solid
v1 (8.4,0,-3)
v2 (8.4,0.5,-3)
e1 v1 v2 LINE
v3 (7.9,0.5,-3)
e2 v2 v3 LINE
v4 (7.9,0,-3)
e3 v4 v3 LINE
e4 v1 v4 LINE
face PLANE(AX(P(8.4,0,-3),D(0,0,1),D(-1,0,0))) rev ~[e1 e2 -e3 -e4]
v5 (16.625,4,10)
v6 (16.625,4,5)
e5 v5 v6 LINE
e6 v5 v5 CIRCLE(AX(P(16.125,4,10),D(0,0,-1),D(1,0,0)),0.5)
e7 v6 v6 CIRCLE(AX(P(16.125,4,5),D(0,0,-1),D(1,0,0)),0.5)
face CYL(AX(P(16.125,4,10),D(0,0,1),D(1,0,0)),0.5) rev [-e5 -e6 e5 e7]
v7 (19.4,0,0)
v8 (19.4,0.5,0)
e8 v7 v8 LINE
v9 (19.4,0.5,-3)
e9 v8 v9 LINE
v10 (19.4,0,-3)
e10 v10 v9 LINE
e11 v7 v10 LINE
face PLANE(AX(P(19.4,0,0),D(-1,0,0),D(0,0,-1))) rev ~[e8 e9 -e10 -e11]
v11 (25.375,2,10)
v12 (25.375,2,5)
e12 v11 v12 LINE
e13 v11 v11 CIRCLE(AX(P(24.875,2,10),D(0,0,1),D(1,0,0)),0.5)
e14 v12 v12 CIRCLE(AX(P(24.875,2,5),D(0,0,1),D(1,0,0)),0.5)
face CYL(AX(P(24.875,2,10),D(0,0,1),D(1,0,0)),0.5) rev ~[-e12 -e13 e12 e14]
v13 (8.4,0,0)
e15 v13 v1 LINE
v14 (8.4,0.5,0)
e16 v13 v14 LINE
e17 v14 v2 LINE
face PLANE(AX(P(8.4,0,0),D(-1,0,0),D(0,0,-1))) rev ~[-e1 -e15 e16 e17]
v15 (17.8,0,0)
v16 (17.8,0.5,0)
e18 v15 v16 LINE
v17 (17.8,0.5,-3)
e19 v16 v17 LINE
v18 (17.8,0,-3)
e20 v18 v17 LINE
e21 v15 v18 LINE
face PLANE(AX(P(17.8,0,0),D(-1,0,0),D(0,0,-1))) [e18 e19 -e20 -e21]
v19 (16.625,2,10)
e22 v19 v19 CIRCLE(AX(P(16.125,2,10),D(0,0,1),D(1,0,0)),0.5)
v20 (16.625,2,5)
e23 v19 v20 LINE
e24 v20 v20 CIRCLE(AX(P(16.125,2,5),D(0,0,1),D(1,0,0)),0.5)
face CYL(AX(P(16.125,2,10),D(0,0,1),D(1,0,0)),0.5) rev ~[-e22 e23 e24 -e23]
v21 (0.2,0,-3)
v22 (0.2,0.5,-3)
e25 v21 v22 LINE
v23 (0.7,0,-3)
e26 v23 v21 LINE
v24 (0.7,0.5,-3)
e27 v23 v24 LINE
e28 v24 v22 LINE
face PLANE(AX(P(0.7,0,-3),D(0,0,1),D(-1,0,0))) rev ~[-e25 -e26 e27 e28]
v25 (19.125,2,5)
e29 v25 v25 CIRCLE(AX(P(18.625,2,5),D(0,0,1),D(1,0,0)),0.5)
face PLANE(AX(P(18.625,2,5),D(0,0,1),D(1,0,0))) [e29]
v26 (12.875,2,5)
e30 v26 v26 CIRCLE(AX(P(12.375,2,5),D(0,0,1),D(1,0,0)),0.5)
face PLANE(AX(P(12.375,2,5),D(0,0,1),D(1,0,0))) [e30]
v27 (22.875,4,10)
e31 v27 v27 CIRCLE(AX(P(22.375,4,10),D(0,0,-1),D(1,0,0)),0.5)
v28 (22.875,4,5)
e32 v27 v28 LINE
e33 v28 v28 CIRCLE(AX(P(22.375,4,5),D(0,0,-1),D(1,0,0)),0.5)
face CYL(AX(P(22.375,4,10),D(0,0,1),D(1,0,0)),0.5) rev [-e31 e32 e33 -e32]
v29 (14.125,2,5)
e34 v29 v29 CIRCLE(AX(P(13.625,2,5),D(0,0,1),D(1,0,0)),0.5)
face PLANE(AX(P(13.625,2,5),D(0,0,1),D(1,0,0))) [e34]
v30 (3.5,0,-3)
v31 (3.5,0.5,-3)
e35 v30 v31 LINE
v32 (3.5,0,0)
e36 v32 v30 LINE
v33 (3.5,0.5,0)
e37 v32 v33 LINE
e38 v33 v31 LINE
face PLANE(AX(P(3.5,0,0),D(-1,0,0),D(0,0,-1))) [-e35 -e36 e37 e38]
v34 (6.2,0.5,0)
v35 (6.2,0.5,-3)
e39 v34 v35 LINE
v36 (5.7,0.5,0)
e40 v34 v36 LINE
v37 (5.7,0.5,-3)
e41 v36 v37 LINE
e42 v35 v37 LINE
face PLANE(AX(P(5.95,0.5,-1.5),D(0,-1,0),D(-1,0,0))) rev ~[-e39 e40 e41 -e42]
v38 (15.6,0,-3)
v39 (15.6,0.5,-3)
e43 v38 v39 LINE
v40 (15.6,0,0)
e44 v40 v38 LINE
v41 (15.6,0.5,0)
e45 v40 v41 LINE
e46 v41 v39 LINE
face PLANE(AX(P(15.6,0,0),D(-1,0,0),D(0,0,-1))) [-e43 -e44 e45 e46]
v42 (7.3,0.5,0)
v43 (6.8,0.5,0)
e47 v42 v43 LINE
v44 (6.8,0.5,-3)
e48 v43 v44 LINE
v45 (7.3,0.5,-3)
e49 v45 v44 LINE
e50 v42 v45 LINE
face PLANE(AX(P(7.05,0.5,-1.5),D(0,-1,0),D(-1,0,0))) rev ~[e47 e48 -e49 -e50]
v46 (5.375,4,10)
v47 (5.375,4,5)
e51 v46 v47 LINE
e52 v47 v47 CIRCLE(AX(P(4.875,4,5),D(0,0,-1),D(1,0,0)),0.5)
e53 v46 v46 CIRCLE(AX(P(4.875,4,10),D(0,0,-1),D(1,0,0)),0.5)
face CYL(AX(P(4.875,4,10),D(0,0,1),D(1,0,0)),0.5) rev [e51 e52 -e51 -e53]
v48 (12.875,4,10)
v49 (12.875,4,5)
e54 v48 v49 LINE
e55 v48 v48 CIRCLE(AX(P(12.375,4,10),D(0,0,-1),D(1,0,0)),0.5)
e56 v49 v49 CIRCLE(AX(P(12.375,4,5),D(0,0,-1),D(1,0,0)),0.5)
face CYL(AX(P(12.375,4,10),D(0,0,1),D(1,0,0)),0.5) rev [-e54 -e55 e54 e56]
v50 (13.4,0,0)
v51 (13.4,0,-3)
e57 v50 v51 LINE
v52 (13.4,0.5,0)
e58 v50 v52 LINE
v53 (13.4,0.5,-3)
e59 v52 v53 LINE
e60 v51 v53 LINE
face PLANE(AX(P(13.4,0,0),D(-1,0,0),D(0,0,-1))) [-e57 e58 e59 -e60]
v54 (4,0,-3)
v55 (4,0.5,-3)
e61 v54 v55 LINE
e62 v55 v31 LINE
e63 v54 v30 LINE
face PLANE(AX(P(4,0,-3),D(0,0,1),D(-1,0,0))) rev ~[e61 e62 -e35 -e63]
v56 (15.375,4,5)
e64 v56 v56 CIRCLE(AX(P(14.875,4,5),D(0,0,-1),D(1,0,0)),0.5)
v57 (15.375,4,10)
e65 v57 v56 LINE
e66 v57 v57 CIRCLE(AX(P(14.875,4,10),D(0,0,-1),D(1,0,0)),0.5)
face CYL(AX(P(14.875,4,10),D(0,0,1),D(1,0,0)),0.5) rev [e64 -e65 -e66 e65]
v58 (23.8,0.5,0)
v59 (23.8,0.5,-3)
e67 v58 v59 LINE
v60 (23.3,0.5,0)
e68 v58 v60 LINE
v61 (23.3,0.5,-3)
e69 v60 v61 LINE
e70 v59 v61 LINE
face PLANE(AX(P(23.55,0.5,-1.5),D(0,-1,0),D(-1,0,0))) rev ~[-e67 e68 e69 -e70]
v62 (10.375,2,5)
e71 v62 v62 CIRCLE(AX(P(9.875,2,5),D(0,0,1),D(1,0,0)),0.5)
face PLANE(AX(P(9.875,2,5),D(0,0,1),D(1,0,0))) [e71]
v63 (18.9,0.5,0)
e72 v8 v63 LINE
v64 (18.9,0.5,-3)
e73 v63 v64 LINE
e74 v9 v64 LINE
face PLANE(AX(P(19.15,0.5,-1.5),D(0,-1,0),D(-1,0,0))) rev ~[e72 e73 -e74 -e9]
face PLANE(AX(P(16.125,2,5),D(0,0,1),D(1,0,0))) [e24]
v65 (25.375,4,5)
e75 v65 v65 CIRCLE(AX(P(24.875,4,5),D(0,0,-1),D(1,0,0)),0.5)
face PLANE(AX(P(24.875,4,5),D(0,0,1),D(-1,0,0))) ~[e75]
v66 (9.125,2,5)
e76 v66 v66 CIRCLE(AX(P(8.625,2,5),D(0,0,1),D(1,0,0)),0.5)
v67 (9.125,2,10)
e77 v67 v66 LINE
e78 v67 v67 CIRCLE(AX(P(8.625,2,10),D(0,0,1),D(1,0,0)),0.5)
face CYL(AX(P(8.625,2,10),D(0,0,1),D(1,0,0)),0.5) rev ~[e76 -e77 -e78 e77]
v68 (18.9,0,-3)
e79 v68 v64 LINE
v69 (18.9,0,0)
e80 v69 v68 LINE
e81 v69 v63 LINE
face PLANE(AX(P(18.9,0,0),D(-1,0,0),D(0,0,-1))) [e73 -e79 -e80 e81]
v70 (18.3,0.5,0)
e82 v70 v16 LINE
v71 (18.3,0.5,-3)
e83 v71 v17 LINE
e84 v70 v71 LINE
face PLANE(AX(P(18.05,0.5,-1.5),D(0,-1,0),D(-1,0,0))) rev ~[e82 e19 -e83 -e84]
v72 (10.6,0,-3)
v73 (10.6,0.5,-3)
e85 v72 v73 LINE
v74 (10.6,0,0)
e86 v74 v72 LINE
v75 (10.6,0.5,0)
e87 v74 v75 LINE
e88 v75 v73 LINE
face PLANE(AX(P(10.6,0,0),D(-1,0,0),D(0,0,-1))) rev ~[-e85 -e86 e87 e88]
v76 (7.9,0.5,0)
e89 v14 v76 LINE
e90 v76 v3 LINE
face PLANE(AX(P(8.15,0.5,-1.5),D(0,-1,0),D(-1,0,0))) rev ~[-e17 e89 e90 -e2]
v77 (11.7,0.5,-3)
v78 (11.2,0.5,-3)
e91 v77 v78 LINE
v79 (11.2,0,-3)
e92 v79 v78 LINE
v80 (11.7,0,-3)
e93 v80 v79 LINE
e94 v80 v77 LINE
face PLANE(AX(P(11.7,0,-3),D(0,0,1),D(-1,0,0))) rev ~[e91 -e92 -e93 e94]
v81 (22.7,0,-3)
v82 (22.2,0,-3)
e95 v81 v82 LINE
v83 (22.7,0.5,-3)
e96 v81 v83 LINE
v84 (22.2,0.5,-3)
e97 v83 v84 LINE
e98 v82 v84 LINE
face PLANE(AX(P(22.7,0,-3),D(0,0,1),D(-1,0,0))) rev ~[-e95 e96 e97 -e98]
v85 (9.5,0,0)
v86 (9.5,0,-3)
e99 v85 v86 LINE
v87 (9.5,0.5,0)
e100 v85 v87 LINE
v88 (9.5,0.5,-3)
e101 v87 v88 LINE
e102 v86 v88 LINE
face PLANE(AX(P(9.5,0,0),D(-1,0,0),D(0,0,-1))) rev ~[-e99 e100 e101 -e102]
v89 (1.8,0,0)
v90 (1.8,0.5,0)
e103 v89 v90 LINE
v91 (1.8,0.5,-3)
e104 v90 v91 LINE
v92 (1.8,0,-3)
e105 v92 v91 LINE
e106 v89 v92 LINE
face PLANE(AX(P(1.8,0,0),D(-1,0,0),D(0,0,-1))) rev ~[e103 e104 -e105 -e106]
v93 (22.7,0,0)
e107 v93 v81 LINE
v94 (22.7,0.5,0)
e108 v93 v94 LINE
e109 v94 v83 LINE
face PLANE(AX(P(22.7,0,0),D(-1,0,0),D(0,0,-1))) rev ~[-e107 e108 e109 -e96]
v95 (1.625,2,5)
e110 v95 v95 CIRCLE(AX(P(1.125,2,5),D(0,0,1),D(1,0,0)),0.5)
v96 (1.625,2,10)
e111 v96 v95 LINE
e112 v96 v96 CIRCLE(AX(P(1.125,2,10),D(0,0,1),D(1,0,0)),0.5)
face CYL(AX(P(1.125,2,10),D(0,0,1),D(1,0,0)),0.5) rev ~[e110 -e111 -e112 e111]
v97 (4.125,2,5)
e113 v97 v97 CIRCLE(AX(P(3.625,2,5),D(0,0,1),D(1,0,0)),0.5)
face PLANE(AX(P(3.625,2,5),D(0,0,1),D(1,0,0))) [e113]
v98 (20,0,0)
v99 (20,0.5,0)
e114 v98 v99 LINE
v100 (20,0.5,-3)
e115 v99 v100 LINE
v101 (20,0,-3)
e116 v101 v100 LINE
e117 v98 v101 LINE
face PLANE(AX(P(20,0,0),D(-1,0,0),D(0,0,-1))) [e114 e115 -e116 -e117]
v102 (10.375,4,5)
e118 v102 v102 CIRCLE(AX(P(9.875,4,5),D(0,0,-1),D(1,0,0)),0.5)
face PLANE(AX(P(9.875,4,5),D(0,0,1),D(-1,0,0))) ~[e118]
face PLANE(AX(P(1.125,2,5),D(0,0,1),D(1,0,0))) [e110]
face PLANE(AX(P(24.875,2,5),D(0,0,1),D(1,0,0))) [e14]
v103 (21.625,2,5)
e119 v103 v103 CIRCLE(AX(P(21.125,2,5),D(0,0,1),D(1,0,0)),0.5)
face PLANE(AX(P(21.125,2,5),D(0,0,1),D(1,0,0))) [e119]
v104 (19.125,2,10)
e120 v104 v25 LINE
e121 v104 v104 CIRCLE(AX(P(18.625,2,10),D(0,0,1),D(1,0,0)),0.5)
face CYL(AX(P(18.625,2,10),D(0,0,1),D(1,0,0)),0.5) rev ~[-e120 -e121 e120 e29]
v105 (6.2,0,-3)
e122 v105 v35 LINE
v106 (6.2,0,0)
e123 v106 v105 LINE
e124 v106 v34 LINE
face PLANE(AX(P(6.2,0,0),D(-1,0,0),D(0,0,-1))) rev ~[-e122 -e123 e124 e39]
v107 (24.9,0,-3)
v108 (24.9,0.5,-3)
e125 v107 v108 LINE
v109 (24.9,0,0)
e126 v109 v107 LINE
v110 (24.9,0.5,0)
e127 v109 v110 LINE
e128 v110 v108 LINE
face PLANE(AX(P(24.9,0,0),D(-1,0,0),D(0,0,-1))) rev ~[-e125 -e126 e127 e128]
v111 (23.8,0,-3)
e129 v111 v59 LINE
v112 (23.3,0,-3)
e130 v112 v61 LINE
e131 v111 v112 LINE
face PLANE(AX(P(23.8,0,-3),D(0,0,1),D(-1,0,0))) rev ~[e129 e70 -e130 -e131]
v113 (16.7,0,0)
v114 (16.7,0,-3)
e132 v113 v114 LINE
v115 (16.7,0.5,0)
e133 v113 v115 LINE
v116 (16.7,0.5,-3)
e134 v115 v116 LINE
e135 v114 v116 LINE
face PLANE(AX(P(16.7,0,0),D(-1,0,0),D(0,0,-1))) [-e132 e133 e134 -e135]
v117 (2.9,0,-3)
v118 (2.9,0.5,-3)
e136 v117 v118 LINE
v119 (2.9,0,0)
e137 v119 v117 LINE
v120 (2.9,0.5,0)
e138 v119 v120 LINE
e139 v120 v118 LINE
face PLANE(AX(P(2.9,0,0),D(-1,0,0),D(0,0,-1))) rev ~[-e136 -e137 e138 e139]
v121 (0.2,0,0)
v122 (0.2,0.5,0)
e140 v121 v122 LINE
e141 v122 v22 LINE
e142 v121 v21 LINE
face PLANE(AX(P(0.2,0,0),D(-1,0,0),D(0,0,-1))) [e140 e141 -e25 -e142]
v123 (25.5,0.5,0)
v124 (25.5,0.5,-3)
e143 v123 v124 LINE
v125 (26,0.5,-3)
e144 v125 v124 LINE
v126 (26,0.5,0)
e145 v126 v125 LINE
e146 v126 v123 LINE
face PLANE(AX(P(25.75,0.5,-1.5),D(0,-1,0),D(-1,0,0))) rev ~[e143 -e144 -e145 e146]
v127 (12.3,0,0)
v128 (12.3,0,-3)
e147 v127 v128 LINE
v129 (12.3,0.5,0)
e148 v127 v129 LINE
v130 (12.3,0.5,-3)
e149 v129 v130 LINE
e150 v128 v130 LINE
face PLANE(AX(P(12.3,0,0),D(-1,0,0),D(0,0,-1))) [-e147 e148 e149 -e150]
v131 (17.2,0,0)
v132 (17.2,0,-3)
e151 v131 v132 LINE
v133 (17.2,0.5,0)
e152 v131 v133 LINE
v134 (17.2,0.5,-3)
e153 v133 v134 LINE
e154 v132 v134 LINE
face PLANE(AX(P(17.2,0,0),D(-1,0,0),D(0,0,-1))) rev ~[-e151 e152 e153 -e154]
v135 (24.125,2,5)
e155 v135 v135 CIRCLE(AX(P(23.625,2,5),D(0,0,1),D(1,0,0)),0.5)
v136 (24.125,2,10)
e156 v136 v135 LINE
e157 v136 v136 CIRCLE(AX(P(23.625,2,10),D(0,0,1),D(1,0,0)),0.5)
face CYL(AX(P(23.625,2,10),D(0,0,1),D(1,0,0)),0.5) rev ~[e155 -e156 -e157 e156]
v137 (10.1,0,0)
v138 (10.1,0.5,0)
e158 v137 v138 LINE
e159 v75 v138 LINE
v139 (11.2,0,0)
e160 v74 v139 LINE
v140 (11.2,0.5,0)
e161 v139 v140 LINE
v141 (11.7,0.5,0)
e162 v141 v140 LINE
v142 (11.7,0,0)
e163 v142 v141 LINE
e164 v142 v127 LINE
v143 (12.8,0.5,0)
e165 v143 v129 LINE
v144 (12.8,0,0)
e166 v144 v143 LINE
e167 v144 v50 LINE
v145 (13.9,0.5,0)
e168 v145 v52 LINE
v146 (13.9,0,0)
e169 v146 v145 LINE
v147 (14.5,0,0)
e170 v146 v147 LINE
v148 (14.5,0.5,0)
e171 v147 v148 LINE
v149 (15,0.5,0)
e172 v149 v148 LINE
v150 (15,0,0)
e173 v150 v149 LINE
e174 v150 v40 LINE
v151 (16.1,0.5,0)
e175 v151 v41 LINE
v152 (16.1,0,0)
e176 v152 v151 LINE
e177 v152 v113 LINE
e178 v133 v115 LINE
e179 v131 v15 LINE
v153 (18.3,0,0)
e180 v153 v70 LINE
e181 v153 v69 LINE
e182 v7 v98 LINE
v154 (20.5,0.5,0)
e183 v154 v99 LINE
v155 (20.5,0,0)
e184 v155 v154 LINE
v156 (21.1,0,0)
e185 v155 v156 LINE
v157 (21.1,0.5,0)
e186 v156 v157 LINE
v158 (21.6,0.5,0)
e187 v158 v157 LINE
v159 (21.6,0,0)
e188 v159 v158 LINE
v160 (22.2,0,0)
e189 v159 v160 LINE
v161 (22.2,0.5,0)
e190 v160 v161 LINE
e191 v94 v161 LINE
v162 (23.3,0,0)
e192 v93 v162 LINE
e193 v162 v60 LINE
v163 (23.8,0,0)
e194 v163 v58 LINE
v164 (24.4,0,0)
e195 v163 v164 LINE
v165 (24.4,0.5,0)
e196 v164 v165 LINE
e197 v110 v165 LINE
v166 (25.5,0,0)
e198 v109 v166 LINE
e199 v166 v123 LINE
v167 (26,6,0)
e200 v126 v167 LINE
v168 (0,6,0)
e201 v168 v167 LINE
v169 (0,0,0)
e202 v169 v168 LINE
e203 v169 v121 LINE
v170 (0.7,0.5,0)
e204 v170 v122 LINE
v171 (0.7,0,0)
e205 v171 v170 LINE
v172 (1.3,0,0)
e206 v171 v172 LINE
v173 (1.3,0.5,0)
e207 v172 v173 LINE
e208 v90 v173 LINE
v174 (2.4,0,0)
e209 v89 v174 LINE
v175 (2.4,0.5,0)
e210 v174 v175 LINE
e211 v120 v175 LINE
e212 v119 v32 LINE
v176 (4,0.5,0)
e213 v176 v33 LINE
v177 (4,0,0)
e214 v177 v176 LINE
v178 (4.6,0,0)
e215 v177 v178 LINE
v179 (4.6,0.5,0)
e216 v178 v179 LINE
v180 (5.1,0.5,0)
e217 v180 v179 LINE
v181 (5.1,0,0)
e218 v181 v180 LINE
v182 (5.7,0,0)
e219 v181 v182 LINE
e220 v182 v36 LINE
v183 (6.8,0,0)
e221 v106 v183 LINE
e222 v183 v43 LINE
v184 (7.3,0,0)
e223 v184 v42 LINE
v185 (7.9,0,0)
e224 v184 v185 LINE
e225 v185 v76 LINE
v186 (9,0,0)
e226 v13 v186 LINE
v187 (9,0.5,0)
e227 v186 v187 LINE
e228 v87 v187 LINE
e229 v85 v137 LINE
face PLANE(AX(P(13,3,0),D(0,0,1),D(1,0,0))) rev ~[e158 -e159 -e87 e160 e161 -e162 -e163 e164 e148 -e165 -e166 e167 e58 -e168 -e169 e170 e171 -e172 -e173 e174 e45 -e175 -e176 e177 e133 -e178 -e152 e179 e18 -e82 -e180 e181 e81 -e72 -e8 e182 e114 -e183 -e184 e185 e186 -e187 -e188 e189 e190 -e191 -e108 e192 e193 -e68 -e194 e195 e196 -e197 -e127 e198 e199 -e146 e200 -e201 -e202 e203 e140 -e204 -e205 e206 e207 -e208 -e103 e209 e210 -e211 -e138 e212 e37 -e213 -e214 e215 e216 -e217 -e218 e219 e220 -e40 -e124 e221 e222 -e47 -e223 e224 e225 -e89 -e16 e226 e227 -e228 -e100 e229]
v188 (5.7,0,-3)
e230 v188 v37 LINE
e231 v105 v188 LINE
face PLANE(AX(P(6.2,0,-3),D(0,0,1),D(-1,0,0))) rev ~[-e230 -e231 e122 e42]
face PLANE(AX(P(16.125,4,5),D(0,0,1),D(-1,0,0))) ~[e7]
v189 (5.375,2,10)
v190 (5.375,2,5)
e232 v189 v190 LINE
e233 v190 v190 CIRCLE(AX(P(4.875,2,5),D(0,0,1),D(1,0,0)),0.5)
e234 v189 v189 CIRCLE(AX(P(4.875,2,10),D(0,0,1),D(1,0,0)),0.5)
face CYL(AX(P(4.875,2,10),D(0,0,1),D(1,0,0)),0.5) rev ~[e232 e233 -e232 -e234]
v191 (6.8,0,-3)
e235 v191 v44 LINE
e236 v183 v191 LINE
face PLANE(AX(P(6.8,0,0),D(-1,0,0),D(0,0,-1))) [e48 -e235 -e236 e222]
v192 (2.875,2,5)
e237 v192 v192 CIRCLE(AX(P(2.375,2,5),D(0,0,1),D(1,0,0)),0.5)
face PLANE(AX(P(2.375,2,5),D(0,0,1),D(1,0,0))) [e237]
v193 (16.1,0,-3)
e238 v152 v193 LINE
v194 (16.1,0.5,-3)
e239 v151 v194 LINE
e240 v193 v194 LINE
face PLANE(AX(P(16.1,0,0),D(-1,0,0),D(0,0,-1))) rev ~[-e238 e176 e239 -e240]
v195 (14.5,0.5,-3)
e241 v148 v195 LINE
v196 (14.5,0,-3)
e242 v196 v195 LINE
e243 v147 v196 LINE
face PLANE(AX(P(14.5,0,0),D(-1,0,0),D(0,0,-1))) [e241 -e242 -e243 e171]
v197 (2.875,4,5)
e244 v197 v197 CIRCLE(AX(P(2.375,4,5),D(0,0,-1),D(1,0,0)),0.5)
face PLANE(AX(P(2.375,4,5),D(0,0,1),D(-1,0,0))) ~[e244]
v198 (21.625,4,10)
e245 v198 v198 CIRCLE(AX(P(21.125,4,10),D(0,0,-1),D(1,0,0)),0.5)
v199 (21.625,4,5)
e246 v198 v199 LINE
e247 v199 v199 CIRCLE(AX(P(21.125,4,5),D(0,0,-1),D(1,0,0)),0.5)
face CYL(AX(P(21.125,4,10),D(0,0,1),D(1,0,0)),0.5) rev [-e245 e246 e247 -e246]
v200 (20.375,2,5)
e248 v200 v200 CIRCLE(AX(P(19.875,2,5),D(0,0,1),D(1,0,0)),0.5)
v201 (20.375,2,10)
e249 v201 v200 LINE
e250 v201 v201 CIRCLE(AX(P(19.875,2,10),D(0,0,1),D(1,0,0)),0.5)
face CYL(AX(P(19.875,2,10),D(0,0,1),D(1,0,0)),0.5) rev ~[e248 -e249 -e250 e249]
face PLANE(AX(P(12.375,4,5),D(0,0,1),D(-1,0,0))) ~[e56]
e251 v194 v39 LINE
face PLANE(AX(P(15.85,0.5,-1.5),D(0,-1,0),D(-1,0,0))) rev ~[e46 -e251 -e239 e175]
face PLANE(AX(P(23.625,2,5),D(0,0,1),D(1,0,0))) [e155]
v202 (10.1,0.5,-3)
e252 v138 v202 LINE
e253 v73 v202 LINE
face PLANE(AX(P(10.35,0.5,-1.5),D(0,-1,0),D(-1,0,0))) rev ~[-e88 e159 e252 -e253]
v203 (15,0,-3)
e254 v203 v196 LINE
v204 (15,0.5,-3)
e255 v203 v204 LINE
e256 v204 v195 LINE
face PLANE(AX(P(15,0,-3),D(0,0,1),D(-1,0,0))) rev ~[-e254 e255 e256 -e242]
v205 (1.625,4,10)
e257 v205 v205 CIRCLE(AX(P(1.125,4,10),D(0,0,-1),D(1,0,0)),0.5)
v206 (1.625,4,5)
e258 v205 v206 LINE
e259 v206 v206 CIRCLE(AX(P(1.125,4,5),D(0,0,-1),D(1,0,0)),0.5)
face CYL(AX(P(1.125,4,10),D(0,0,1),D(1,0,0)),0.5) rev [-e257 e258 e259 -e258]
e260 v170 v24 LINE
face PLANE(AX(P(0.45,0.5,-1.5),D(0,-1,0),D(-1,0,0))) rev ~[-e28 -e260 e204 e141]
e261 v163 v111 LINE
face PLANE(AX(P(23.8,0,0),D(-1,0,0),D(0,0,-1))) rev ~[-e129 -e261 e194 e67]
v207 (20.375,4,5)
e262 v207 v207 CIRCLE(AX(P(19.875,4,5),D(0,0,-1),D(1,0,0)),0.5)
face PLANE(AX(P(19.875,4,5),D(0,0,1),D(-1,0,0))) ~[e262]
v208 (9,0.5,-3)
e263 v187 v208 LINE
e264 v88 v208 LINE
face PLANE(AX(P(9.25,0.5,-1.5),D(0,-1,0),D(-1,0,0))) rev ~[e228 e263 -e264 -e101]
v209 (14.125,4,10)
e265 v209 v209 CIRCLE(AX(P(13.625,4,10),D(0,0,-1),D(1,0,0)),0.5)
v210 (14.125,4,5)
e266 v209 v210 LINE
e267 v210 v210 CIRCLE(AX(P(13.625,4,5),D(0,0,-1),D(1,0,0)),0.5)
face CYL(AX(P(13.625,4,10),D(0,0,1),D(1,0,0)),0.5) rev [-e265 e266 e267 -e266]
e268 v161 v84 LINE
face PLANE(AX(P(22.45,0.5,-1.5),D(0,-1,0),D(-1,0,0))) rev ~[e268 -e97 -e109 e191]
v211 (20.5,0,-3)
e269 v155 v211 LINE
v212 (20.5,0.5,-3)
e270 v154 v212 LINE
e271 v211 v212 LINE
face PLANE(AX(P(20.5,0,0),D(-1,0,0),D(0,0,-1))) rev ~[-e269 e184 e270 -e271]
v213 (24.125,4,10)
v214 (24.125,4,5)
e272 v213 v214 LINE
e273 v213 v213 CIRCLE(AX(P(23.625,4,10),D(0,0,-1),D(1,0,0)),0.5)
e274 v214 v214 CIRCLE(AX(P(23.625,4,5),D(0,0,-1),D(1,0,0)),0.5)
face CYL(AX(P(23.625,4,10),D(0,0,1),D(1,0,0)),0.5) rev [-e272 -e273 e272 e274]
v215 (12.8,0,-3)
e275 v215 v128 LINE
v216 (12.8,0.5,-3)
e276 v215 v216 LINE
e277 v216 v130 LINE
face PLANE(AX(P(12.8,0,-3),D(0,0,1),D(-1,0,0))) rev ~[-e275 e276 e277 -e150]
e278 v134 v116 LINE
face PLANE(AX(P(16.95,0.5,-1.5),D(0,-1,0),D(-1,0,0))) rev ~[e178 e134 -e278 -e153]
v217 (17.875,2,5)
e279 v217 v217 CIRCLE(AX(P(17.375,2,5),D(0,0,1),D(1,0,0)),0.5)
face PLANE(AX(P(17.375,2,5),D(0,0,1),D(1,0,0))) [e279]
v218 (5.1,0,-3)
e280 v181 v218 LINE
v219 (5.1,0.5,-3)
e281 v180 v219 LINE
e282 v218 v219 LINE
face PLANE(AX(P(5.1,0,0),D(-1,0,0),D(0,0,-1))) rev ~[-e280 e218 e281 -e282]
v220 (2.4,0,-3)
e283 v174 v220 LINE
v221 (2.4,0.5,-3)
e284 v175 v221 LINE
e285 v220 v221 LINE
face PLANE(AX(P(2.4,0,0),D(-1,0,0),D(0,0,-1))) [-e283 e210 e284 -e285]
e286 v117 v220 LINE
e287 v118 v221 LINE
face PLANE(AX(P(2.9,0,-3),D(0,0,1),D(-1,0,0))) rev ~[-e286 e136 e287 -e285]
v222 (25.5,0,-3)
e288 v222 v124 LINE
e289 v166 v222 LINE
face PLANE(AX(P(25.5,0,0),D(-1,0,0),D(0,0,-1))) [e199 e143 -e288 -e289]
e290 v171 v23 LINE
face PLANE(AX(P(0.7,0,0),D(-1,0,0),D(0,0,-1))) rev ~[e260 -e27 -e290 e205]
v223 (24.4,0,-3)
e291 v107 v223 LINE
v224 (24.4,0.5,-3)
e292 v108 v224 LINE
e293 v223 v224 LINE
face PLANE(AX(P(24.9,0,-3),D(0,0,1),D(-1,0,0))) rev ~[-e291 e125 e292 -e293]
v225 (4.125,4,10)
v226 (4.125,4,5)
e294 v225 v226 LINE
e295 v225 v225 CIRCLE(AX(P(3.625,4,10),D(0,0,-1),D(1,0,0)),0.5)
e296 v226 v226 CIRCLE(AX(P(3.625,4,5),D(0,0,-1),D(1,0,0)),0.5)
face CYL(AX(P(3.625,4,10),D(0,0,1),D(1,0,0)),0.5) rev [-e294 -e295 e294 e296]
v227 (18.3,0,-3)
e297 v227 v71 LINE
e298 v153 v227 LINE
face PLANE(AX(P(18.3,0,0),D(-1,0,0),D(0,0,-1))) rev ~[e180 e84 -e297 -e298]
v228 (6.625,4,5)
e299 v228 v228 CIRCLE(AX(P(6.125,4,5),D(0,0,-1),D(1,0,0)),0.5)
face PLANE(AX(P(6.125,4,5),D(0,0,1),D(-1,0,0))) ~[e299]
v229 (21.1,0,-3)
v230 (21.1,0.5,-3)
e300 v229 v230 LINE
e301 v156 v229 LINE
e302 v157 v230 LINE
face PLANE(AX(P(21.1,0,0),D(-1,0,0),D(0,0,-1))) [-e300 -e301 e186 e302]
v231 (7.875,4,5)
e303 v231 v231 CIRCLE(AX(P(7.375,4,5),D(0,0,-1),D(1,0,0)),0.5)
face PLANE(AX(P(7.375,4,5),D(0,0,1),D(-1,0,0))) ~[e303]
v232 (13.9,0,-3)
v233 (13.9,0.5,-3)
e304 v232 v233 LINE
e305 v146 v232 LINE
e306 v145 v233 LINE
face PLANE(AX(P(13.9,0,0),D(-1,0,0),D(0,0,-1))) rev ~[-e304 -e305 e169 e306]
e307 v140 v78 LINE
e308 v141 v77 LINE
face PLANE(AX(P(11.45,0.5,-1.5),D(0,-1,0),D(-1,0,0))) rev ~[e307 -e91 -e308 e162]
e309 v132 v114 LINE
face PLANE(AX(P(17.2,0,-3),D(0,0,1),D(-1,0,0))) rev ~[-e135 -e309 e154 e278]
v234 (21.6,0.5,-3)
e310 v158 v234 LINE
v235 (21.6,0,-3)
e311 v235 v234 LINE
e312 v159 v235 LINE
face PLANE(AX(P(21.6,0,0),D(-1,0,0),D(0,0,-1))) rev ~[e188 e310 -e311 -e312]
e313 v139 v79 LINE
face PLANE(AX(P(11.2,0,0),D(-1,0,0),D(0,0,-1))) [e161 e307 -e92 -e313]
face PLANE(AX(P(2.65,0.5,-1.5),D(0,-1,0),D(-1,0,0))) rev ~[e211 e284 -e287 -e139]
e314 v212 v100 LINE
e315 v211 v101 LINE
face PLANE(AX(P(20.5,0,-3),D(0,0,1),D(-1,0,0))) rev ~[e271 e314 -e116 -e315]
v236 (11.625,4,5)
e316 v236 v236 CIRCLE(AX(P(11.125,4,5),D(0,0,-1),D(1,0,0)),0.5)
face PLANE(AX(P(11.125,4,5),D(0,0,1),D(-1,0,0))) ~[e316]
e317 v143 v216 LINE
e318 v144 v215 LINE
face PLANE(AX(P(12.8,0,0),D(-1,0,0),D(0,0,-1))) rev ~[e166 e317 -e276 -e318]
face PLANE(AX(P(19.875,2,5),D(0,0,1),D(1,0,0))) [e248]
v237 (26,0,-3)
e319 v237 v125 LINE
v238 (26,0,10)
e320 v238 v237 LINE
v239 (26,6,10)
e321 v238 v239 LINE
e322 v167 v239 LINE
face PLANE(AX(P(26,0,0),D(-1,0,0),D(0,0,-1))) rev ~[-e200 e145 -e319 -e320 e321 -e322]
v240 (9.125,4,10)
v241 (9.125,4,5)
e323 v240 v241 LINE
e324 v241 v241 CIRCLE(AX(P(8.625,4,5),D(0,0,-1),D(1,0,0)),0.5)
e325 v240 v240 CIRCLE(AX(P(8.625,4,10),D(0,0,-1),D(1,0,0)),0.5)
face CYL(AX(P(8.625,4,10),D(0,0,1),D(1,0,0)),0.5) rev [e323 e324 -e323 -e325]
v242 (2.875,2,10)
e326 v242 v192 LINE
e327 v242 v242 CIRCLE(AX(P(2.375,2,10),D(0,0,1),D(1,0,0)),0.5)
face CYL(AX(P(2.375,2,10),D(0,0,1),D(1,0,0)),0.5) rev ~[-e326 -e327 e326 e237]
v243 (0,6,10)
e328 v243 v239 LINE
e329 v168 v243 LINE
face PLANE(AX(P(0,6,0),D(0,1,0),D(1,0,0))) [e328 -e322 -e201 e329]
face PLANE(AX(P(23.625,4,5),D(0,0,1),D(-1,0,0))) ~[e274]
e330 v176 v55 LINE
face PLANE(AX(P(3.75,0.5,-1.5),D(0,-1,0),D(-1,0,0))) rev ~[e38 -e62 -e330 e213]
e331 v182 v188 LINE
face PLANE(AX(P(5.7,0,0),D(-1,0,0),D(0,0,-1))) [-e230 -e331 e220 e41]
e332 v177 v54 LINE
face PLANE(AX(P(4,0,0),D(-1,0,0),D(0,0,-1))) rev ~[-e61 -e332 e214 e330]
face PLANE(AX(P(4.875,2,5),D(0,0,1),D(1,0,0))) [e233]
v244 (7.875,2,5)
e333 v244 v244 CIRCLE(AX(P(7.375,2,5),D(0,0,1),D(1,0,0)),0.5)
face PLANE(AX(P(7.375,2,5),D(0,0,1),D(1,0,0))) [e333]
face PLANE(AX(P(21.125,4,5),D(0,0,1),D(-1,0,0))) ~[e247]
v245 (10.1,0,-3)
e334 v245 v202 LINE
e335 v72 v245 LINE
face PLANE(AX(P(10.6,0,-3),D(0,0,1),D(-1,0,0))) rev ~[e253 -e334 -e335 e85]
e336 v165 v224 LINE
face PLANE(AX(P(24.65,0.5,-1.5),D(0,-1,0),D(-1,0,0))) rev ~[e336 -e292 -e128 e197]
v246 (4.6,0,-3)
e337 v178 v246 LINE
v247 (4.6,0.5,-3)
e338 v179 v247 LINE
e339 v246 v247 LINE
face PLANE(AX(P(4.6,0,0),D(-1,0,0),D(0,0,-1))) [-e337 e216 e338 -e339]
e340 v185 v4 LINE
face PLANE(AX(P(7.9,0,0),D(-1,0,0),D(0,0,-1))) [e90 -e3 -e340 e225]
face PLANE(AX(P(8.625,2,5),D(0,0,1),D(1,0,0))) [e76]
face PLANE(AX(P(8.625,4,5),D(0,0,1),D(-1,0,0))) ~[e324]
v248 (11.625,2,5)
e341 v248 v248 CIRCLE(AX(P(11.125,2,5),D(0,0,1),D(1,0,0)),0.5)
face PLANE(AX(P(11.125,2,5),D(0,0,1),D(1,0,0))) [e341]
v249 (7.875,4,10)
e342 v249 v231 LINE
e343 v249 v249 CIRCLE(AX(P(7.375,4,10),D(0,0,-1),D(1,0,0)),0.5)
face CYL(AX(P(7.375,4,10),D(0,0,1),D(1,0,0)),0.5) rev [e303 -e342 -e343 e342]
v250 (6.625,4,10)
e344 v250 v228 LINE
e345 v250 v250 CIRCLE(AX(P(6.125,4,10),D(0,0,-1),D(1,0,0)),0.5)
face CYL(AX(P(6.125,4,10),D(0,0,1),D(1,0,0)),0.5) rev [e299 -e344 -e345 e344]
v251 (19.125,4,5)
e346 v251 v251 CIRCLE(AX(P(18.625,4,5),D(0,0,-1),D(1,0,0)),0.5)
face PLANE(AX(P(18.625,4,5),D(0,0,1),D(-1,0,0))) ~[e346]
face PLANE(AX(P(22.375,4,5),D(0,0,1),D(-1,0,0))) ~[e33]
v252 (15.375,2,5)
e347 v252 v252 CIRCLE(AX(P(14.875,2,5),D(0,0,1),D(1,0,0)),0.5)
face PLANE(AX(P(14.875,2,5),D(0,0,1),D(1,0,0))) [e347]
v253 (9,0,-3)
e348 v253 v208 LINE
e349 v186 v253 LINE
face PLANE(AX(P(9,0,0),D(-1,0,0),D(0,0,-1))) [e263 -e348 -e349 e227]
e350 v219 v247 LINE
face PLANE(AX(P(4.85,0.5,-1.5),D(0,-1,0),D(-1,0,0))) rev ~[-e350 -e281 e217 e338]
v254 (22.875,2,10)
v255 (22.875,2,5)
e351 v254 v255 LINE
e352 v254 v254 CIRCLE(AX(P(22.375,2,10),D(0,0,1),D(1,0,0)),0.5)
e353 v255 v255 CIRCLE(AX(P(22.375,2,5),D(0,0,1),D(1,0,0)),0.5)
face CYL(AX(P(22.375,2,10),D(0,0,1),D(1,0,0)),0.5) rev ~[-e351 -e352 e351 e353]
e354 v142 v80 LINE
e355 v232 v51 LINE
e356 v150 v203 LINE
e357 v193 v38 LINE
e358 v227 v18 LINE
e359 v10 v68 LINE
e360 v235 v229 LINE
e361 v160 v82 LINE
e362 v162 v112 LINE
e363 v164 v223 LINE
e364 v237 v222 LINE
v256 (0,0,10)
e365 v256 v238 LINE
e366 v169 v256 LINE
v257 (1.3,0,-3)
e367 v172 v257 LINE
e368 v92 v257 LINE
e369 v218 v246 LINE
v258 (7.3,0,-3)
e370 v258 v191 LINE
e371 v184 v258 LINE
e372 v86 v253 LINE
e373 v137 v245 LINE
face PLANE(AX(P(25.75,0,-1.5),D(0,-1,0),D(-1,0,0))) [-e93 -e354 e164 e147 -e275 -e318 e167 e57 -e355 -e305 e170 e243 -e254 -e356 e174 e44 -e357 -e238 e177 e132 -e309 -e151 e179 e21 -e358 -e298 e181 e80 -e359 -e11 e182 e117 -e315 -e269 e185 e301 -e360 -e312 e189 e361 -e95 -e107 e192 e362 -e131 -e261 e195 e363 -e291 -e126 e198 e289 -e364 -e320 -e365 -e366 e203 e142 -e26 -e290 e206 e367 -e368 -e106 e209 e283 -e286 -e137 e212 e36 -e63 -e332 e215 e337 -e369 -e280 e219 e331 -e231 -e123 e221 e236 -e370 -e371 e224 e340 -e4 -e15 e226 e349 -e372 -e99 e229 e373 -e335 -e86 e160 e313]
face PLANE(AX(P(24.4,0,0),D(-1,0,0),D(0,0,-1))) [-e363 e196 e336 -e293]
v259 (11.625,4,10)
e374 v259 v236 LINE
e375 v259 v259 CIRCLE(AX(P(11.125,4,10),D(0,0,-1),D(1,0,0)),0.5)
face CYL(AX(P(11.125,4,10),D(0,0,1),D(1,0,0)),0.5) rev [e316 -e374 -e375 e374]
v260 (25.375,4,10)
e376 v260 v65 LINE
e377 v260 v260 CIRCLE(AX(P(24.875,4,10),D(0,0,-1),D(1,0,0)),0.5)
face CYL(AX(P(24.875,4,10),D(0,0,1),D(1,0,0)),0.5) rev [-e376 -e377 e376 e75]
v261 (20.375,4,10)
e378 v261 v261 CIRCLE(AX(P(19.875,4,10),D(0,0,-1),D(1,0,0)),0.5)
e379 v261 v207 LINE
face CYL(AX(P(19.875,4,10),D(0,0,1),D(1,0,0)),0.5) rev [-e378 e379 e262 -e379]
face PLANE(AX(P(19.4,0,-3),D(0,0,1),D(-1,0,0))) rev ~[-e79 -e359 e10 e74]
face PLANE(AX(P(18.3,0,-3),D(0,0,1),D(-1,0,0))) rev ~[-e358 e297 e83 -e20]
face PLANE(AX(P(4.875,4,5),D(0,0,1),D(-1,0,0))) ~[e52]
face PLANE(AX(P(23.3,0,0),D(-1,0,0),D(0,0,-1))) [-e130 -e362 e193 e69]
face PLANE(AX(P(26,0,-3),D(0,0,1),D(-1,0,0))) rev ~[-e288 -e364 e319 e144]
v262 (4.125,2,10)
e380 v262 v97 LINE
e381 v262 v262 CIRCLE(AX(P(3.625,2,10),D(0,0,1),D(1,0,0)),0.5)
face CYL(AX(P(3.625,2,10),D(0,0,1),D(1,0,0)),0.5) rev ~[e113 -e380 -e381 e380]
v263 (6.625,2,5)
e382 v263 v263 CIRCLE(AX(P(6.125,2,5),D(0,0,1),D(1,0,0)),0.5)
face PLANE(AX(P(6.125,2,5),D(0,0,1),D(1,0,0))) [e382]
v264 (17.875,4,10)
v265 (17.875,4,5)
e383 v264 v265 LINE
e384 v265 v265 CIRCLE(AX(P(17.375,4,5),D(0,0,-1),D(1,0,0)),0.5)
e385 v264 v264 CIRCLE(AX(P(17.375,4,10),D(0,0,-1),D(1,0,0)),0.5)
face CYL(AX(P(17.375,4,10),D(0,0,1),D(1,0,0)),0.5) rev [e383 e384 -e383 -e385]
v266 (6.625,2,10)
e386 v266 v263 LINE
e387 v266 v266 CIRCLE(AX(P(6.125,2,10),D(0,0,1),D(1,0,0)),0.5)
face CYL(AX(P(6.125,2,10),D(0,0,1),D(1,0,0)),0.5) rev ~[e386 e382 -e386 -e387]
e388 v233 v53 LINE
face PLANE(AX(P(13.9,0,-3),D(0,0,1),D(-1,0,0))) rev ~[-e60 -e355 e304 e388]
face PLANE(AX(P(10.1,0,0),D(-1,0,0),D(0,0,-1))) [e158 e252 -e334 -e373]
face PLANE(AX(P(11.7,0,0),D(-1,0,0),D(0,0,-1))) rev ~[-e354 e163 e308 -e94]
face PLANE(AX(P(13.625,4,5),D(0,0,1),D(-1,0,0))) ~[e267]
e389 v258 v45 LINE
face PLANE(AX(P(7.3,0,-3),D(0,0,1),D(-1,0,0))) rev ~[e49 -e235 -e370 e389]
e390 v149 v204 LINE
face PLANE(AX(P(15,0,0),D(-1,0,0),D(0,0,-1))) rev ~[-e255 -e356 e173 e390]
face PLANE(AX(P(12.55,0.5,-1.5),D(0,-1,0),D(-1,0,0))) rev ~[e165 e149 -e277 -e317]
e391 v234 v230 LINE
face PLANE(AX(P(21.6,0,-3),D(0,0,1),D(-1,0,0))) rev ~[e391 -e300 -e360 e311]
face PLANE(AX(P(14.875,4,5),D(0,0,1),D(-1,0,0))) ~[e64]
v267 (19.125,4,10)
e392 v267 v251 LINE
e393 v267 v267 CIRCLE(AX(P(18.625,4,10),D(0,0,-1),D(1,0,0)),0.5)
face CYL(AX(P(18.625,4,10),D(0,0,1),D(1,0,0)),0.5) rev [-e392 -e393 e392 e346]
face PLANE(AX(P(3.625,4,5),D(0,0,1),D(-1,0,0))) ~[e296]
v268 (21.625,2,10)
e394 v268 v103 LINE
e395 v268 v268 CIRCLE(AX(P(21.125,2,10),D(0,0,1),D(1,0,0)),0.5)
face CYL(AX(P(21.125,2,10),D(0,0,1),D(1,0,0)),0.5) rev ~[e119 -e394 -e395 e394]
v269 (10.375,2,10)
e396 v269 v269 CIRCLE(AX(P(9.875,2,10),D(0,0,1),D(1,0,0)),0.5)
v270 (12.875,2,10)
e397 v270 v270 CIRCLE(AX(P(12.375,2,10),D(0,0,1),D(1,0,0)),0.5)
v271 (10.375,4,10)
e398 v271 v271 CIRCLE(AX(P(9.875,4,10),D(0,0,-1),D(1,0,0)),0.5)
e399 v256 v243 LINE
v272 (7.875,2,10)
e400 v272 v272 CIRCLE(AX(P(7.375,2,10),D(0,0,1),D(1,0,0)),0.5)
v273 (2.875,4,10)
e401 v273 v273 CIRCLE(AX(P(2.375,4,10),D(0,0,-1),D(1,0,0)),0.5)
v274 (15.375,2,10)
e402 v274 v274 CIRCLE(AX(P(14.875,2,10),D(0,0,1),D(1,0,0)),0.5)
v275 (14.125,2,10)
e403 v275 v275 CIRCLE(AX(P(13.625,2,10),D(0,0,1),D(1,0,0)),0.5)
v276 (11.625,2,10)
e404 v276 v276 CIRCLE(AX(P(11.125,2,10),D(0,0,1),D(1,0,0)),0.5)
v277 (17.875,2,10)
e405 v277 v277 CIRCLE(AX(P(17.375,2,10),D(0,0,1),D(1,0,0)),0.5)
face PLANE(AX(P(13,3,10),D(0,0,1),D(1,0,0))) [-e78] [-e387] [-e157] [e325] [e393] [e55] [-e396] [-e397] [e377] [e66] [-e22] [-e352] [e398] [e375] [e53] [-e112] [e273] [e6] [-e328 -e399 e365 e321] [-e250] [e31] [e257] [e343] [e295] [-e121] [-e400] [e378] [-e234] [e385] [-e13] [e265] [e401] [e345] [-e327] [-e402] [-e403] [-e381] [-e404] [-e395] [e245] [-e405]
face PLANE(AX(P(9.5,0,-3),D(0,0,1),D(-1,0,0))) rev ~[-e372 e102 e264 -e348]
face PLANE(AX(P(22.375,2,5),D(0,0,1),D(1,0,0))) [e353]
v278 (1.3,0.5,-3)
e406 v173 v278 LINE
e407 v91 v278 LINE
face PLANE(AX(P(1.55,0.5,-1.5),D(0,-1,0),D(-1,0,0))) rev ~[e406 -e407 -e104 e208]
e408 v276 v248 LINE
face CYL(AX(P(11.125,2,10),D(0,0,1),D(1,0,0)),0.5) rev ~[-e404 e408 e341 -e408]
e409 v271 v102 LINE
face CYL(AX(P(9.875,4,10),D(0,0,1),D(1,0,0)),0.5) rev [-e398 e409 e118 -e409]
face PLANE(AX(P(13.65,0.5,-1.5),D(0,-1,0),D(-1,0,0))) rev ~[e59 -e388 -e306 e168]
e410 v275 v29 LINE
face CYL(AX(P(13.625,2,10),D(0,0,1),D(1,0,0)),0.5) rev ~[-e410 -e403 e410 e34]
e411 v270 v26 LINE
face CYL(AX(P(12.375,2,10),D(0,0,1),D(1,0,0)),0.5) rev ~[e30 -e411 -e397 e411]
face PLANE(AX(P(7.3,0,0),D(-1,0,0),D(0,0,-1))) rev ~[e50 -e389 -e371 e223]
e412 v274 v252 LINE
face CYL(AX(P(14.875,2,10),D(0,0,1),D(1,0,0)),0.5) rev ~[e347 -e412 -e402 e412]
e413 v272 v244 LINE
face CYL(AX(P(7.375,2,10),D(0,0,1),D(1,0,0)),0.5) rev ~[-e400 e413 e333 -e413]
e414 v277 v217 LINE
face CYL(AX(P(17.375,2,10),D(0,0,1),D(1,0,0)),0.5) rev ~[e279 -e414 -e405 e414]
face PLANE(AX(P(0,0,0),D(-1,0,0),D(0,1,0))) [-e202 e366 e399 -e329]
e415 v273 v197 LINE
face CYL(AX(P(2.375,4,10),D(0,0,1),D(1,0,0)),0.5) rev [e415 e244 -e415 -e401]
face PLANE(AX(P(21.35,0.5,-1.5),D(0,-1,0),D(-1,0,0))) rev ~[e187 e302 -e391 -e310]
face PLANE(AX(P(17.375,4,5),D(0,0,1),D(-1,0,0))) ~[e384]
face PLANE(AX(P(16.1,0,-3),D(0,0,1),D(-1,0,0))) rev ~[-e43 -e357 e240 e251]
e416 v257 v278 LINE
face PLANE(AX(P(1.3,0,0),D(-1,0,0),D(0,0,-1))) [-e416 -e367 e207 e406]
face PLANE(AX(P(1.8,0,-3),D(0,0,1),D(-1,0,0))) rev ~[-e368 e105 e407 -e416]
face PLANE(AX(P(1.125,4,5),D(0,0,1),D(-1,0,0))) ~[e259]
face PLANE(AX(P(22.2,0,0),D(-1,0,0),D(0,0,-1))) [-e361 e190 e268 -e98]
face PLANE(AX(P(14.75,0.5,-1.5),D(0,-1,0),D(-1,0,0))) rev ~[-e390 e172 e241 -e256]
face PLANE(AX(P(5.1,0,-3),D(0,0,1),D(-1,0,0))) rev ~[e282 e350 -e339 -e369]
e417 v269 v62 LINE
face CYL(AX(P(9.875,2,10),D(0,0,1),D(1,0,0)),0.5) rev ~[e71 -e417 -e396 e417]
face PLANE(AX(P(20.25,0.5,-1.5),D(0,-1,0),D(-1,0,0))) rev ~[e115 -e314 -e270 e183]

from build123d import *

# Parameters (mm, degrees)
SKETCH2_W           = 26
SKETCH2_H           = 6
BOSS_EXTRUDE1_DEPTH = 10
SKETCH3_R           = 0.5
CUT_EXTRUDE1_DEPTH  = 5
SKETCH4_W           = 0.5
SKETCH4_H           = 3
BOSS_EXTRUDE2_DEPTH = 0.5


with BuildPart() as part:
    # Sketch2 → Boss-Extrude1 (new body)
    with BuildSketch(Plane.XY):
        with Locations((13, 3)):
            Rectangle(SKETCH2_W, SKETCH2_H)
    extrude(amount=BOSS_EXTRUDE1_DEPTH)

    # Sketch3 → Cut-Extrude1 (cut)
    with BuildSketch(Plane.XY.offset(10)):
        with Locations((1.125, 2)):
            Circle(SKETCH3_R)
        with Locations((2.375, 2)):
            Circle(SKETCH3_R)
        with Locations((3.625, 2)):
            Circle(SKETCH3_R)
        with Locations((4.875, 2)):
            Circle(SKETCH3_R)
        with Locations((6.125, 2)):
            Circle(SKETCH3_R)
        with Locations((7.375, 2)):
            Circle(SKETCH3_R)
        with Locations((8.625, 2)):
            Circle(SKETCH3_R)
        with Locations((9.875, 2)):
            Circle(SKETCH3_R)
        with Locations((11.125, 2)):
            Circle(SKETCH3_R)
        with Locations((12.375, 2)):
            Circle(SKETCH3_R)
        with Locations((13.625, 2)):
            Circle(SKETCH3_R)
        with Locations((14.875, 2)):
            Circle(SKETCH3_R)
        with Locations((16.125, 2)):
            Circle(SKETCH3_R)
        with Locations((17.375, 2)):
            Circle(SKETCH3_R)
        with Locations((18.625, 2)):
            Circle(SKETCH3_R)
        with Locations((19.875, 2)):
            Circle(SKETCH3_R)
        with Locations((21.125, 2)):
            Circle(SKETCH3_R)
        with Locations((22.375, 2)):
            Circle(SKETCH3_R)
        with Locations((23.625, 2)):
            Circle(SKETCH3_R)
        with Locations((24.875, 2)):
            Circle(SKETCH3_R)
    cut_extrude1 = extrude(amount=-CUT_EXTRUDE1_DEPTH, mode=Mode.SUBTRACT)

    # Sketch4 → Boss-Extrude2 (add)
    with BuildSketch(Plane(origin=(0, 0, 0), x_dir=(-1, 0, 0), z_dir=(0, -1, 0))):
        with Locations((-24.65, 1.5)):
            Rectangle(SKETCH4_W, SKETCH4_H)
        with Locations((-25.75, 1.5)):
            Rectangle(SKETCH4_W, SKETCH4_H)
        with Locations((-23.55, 1.5)):
            Rectangle(SKETCH4_W, SKETCH4_H)
        with Locations((-22.45, 1.5)):
            Rectangle(SKETCH4_W, SKETCH4_H)
        with Locations((-21.35, 1.5)):
            Rectangle(SKETCH4_W, SKETCH4_H)
        with Locations((-20.25, 1.5)):
            Rectangle(SKETCH4_W, SKETCH4_H)
        with Locations((-19.15, 1.5)):
            Rectangle(SKETCH4_W, SKETCH4_H)
        with Locations((-18.05, 1.5)):
            Rectangle(SKETCH4_W, SKETCH4_H)
        with Locations((-16.95, 1.5)):
            Rectangle(SKETCH4_W, SKETCH4_H)
        with Locations((-15.85, 1.5)):
            Rectangle(SKETCH4_W, SKETCH4_H)
        with Locations((-14.75, 1.5)):
            Rectangle(SKETCH4_W, SKETCH4_H)
        with Locations((-13.65, 1.5)):
            Rectangle(SKETCH4_W, SKETCH4_H)
        with Locations((-12.55, 1.5)):
            Rectangle(SKETCH4_W, SKETCH4_H)
        with Locations((-11.45, 1.5)):
            Rectangle(SKETCH4_W, SKETCH4_H)
        with Locations((-10.35, 1.5)):
            Rectangle(SKETCH4_W, SKETCH4_H)
        with Locations((-9.25, 1.5)):
            Rectangle(SKETCH4_W, SKETCH4_H)
        with Locations((-8.15, 1.5)):
            Rectangle(SKETCH4_W, SKETCH4_H)
        with Locations((-7.05, 1.5)):
            Rectangle(SKETCH4_W, SKETCH4_H)
        with Locations((-5.95, 1.5)):
            Rectangle(SKETCH4_W, SKETCH4_H)
        with Locations((-4.85, 1.5)):
            Rectangle(SKETCH4_W, SKETCH4_H)
        with Locations((-3.75, 1.5)):
            Rectangle(SKETCH4_W, SKETCH4_H)
        with Locations((-2.65, 1.5)):
            Rectangle(SKETCH4_W, SKETCH4_H)
        with Locations((-1.55, 1.5)):
            Rectangle(SKETCH4_W, SKETCH4_H)
        with Locations((-0.45, 1.5)):
            Rectangle(SKETCH4_W, SKETCH4_H)
    extrude(amount=-BOSS_EXTRUDE2_DEPTH)

    # Mirror1: Cut-Extrude1 across plane
    add(cut_extrude1.mirror(Plane(origin=(0, 3, 0), x_dir=(0, 0, 1), z_dir=(0, -1, 0))), mode=Mode.SUBTRACT)


solid = part.part
